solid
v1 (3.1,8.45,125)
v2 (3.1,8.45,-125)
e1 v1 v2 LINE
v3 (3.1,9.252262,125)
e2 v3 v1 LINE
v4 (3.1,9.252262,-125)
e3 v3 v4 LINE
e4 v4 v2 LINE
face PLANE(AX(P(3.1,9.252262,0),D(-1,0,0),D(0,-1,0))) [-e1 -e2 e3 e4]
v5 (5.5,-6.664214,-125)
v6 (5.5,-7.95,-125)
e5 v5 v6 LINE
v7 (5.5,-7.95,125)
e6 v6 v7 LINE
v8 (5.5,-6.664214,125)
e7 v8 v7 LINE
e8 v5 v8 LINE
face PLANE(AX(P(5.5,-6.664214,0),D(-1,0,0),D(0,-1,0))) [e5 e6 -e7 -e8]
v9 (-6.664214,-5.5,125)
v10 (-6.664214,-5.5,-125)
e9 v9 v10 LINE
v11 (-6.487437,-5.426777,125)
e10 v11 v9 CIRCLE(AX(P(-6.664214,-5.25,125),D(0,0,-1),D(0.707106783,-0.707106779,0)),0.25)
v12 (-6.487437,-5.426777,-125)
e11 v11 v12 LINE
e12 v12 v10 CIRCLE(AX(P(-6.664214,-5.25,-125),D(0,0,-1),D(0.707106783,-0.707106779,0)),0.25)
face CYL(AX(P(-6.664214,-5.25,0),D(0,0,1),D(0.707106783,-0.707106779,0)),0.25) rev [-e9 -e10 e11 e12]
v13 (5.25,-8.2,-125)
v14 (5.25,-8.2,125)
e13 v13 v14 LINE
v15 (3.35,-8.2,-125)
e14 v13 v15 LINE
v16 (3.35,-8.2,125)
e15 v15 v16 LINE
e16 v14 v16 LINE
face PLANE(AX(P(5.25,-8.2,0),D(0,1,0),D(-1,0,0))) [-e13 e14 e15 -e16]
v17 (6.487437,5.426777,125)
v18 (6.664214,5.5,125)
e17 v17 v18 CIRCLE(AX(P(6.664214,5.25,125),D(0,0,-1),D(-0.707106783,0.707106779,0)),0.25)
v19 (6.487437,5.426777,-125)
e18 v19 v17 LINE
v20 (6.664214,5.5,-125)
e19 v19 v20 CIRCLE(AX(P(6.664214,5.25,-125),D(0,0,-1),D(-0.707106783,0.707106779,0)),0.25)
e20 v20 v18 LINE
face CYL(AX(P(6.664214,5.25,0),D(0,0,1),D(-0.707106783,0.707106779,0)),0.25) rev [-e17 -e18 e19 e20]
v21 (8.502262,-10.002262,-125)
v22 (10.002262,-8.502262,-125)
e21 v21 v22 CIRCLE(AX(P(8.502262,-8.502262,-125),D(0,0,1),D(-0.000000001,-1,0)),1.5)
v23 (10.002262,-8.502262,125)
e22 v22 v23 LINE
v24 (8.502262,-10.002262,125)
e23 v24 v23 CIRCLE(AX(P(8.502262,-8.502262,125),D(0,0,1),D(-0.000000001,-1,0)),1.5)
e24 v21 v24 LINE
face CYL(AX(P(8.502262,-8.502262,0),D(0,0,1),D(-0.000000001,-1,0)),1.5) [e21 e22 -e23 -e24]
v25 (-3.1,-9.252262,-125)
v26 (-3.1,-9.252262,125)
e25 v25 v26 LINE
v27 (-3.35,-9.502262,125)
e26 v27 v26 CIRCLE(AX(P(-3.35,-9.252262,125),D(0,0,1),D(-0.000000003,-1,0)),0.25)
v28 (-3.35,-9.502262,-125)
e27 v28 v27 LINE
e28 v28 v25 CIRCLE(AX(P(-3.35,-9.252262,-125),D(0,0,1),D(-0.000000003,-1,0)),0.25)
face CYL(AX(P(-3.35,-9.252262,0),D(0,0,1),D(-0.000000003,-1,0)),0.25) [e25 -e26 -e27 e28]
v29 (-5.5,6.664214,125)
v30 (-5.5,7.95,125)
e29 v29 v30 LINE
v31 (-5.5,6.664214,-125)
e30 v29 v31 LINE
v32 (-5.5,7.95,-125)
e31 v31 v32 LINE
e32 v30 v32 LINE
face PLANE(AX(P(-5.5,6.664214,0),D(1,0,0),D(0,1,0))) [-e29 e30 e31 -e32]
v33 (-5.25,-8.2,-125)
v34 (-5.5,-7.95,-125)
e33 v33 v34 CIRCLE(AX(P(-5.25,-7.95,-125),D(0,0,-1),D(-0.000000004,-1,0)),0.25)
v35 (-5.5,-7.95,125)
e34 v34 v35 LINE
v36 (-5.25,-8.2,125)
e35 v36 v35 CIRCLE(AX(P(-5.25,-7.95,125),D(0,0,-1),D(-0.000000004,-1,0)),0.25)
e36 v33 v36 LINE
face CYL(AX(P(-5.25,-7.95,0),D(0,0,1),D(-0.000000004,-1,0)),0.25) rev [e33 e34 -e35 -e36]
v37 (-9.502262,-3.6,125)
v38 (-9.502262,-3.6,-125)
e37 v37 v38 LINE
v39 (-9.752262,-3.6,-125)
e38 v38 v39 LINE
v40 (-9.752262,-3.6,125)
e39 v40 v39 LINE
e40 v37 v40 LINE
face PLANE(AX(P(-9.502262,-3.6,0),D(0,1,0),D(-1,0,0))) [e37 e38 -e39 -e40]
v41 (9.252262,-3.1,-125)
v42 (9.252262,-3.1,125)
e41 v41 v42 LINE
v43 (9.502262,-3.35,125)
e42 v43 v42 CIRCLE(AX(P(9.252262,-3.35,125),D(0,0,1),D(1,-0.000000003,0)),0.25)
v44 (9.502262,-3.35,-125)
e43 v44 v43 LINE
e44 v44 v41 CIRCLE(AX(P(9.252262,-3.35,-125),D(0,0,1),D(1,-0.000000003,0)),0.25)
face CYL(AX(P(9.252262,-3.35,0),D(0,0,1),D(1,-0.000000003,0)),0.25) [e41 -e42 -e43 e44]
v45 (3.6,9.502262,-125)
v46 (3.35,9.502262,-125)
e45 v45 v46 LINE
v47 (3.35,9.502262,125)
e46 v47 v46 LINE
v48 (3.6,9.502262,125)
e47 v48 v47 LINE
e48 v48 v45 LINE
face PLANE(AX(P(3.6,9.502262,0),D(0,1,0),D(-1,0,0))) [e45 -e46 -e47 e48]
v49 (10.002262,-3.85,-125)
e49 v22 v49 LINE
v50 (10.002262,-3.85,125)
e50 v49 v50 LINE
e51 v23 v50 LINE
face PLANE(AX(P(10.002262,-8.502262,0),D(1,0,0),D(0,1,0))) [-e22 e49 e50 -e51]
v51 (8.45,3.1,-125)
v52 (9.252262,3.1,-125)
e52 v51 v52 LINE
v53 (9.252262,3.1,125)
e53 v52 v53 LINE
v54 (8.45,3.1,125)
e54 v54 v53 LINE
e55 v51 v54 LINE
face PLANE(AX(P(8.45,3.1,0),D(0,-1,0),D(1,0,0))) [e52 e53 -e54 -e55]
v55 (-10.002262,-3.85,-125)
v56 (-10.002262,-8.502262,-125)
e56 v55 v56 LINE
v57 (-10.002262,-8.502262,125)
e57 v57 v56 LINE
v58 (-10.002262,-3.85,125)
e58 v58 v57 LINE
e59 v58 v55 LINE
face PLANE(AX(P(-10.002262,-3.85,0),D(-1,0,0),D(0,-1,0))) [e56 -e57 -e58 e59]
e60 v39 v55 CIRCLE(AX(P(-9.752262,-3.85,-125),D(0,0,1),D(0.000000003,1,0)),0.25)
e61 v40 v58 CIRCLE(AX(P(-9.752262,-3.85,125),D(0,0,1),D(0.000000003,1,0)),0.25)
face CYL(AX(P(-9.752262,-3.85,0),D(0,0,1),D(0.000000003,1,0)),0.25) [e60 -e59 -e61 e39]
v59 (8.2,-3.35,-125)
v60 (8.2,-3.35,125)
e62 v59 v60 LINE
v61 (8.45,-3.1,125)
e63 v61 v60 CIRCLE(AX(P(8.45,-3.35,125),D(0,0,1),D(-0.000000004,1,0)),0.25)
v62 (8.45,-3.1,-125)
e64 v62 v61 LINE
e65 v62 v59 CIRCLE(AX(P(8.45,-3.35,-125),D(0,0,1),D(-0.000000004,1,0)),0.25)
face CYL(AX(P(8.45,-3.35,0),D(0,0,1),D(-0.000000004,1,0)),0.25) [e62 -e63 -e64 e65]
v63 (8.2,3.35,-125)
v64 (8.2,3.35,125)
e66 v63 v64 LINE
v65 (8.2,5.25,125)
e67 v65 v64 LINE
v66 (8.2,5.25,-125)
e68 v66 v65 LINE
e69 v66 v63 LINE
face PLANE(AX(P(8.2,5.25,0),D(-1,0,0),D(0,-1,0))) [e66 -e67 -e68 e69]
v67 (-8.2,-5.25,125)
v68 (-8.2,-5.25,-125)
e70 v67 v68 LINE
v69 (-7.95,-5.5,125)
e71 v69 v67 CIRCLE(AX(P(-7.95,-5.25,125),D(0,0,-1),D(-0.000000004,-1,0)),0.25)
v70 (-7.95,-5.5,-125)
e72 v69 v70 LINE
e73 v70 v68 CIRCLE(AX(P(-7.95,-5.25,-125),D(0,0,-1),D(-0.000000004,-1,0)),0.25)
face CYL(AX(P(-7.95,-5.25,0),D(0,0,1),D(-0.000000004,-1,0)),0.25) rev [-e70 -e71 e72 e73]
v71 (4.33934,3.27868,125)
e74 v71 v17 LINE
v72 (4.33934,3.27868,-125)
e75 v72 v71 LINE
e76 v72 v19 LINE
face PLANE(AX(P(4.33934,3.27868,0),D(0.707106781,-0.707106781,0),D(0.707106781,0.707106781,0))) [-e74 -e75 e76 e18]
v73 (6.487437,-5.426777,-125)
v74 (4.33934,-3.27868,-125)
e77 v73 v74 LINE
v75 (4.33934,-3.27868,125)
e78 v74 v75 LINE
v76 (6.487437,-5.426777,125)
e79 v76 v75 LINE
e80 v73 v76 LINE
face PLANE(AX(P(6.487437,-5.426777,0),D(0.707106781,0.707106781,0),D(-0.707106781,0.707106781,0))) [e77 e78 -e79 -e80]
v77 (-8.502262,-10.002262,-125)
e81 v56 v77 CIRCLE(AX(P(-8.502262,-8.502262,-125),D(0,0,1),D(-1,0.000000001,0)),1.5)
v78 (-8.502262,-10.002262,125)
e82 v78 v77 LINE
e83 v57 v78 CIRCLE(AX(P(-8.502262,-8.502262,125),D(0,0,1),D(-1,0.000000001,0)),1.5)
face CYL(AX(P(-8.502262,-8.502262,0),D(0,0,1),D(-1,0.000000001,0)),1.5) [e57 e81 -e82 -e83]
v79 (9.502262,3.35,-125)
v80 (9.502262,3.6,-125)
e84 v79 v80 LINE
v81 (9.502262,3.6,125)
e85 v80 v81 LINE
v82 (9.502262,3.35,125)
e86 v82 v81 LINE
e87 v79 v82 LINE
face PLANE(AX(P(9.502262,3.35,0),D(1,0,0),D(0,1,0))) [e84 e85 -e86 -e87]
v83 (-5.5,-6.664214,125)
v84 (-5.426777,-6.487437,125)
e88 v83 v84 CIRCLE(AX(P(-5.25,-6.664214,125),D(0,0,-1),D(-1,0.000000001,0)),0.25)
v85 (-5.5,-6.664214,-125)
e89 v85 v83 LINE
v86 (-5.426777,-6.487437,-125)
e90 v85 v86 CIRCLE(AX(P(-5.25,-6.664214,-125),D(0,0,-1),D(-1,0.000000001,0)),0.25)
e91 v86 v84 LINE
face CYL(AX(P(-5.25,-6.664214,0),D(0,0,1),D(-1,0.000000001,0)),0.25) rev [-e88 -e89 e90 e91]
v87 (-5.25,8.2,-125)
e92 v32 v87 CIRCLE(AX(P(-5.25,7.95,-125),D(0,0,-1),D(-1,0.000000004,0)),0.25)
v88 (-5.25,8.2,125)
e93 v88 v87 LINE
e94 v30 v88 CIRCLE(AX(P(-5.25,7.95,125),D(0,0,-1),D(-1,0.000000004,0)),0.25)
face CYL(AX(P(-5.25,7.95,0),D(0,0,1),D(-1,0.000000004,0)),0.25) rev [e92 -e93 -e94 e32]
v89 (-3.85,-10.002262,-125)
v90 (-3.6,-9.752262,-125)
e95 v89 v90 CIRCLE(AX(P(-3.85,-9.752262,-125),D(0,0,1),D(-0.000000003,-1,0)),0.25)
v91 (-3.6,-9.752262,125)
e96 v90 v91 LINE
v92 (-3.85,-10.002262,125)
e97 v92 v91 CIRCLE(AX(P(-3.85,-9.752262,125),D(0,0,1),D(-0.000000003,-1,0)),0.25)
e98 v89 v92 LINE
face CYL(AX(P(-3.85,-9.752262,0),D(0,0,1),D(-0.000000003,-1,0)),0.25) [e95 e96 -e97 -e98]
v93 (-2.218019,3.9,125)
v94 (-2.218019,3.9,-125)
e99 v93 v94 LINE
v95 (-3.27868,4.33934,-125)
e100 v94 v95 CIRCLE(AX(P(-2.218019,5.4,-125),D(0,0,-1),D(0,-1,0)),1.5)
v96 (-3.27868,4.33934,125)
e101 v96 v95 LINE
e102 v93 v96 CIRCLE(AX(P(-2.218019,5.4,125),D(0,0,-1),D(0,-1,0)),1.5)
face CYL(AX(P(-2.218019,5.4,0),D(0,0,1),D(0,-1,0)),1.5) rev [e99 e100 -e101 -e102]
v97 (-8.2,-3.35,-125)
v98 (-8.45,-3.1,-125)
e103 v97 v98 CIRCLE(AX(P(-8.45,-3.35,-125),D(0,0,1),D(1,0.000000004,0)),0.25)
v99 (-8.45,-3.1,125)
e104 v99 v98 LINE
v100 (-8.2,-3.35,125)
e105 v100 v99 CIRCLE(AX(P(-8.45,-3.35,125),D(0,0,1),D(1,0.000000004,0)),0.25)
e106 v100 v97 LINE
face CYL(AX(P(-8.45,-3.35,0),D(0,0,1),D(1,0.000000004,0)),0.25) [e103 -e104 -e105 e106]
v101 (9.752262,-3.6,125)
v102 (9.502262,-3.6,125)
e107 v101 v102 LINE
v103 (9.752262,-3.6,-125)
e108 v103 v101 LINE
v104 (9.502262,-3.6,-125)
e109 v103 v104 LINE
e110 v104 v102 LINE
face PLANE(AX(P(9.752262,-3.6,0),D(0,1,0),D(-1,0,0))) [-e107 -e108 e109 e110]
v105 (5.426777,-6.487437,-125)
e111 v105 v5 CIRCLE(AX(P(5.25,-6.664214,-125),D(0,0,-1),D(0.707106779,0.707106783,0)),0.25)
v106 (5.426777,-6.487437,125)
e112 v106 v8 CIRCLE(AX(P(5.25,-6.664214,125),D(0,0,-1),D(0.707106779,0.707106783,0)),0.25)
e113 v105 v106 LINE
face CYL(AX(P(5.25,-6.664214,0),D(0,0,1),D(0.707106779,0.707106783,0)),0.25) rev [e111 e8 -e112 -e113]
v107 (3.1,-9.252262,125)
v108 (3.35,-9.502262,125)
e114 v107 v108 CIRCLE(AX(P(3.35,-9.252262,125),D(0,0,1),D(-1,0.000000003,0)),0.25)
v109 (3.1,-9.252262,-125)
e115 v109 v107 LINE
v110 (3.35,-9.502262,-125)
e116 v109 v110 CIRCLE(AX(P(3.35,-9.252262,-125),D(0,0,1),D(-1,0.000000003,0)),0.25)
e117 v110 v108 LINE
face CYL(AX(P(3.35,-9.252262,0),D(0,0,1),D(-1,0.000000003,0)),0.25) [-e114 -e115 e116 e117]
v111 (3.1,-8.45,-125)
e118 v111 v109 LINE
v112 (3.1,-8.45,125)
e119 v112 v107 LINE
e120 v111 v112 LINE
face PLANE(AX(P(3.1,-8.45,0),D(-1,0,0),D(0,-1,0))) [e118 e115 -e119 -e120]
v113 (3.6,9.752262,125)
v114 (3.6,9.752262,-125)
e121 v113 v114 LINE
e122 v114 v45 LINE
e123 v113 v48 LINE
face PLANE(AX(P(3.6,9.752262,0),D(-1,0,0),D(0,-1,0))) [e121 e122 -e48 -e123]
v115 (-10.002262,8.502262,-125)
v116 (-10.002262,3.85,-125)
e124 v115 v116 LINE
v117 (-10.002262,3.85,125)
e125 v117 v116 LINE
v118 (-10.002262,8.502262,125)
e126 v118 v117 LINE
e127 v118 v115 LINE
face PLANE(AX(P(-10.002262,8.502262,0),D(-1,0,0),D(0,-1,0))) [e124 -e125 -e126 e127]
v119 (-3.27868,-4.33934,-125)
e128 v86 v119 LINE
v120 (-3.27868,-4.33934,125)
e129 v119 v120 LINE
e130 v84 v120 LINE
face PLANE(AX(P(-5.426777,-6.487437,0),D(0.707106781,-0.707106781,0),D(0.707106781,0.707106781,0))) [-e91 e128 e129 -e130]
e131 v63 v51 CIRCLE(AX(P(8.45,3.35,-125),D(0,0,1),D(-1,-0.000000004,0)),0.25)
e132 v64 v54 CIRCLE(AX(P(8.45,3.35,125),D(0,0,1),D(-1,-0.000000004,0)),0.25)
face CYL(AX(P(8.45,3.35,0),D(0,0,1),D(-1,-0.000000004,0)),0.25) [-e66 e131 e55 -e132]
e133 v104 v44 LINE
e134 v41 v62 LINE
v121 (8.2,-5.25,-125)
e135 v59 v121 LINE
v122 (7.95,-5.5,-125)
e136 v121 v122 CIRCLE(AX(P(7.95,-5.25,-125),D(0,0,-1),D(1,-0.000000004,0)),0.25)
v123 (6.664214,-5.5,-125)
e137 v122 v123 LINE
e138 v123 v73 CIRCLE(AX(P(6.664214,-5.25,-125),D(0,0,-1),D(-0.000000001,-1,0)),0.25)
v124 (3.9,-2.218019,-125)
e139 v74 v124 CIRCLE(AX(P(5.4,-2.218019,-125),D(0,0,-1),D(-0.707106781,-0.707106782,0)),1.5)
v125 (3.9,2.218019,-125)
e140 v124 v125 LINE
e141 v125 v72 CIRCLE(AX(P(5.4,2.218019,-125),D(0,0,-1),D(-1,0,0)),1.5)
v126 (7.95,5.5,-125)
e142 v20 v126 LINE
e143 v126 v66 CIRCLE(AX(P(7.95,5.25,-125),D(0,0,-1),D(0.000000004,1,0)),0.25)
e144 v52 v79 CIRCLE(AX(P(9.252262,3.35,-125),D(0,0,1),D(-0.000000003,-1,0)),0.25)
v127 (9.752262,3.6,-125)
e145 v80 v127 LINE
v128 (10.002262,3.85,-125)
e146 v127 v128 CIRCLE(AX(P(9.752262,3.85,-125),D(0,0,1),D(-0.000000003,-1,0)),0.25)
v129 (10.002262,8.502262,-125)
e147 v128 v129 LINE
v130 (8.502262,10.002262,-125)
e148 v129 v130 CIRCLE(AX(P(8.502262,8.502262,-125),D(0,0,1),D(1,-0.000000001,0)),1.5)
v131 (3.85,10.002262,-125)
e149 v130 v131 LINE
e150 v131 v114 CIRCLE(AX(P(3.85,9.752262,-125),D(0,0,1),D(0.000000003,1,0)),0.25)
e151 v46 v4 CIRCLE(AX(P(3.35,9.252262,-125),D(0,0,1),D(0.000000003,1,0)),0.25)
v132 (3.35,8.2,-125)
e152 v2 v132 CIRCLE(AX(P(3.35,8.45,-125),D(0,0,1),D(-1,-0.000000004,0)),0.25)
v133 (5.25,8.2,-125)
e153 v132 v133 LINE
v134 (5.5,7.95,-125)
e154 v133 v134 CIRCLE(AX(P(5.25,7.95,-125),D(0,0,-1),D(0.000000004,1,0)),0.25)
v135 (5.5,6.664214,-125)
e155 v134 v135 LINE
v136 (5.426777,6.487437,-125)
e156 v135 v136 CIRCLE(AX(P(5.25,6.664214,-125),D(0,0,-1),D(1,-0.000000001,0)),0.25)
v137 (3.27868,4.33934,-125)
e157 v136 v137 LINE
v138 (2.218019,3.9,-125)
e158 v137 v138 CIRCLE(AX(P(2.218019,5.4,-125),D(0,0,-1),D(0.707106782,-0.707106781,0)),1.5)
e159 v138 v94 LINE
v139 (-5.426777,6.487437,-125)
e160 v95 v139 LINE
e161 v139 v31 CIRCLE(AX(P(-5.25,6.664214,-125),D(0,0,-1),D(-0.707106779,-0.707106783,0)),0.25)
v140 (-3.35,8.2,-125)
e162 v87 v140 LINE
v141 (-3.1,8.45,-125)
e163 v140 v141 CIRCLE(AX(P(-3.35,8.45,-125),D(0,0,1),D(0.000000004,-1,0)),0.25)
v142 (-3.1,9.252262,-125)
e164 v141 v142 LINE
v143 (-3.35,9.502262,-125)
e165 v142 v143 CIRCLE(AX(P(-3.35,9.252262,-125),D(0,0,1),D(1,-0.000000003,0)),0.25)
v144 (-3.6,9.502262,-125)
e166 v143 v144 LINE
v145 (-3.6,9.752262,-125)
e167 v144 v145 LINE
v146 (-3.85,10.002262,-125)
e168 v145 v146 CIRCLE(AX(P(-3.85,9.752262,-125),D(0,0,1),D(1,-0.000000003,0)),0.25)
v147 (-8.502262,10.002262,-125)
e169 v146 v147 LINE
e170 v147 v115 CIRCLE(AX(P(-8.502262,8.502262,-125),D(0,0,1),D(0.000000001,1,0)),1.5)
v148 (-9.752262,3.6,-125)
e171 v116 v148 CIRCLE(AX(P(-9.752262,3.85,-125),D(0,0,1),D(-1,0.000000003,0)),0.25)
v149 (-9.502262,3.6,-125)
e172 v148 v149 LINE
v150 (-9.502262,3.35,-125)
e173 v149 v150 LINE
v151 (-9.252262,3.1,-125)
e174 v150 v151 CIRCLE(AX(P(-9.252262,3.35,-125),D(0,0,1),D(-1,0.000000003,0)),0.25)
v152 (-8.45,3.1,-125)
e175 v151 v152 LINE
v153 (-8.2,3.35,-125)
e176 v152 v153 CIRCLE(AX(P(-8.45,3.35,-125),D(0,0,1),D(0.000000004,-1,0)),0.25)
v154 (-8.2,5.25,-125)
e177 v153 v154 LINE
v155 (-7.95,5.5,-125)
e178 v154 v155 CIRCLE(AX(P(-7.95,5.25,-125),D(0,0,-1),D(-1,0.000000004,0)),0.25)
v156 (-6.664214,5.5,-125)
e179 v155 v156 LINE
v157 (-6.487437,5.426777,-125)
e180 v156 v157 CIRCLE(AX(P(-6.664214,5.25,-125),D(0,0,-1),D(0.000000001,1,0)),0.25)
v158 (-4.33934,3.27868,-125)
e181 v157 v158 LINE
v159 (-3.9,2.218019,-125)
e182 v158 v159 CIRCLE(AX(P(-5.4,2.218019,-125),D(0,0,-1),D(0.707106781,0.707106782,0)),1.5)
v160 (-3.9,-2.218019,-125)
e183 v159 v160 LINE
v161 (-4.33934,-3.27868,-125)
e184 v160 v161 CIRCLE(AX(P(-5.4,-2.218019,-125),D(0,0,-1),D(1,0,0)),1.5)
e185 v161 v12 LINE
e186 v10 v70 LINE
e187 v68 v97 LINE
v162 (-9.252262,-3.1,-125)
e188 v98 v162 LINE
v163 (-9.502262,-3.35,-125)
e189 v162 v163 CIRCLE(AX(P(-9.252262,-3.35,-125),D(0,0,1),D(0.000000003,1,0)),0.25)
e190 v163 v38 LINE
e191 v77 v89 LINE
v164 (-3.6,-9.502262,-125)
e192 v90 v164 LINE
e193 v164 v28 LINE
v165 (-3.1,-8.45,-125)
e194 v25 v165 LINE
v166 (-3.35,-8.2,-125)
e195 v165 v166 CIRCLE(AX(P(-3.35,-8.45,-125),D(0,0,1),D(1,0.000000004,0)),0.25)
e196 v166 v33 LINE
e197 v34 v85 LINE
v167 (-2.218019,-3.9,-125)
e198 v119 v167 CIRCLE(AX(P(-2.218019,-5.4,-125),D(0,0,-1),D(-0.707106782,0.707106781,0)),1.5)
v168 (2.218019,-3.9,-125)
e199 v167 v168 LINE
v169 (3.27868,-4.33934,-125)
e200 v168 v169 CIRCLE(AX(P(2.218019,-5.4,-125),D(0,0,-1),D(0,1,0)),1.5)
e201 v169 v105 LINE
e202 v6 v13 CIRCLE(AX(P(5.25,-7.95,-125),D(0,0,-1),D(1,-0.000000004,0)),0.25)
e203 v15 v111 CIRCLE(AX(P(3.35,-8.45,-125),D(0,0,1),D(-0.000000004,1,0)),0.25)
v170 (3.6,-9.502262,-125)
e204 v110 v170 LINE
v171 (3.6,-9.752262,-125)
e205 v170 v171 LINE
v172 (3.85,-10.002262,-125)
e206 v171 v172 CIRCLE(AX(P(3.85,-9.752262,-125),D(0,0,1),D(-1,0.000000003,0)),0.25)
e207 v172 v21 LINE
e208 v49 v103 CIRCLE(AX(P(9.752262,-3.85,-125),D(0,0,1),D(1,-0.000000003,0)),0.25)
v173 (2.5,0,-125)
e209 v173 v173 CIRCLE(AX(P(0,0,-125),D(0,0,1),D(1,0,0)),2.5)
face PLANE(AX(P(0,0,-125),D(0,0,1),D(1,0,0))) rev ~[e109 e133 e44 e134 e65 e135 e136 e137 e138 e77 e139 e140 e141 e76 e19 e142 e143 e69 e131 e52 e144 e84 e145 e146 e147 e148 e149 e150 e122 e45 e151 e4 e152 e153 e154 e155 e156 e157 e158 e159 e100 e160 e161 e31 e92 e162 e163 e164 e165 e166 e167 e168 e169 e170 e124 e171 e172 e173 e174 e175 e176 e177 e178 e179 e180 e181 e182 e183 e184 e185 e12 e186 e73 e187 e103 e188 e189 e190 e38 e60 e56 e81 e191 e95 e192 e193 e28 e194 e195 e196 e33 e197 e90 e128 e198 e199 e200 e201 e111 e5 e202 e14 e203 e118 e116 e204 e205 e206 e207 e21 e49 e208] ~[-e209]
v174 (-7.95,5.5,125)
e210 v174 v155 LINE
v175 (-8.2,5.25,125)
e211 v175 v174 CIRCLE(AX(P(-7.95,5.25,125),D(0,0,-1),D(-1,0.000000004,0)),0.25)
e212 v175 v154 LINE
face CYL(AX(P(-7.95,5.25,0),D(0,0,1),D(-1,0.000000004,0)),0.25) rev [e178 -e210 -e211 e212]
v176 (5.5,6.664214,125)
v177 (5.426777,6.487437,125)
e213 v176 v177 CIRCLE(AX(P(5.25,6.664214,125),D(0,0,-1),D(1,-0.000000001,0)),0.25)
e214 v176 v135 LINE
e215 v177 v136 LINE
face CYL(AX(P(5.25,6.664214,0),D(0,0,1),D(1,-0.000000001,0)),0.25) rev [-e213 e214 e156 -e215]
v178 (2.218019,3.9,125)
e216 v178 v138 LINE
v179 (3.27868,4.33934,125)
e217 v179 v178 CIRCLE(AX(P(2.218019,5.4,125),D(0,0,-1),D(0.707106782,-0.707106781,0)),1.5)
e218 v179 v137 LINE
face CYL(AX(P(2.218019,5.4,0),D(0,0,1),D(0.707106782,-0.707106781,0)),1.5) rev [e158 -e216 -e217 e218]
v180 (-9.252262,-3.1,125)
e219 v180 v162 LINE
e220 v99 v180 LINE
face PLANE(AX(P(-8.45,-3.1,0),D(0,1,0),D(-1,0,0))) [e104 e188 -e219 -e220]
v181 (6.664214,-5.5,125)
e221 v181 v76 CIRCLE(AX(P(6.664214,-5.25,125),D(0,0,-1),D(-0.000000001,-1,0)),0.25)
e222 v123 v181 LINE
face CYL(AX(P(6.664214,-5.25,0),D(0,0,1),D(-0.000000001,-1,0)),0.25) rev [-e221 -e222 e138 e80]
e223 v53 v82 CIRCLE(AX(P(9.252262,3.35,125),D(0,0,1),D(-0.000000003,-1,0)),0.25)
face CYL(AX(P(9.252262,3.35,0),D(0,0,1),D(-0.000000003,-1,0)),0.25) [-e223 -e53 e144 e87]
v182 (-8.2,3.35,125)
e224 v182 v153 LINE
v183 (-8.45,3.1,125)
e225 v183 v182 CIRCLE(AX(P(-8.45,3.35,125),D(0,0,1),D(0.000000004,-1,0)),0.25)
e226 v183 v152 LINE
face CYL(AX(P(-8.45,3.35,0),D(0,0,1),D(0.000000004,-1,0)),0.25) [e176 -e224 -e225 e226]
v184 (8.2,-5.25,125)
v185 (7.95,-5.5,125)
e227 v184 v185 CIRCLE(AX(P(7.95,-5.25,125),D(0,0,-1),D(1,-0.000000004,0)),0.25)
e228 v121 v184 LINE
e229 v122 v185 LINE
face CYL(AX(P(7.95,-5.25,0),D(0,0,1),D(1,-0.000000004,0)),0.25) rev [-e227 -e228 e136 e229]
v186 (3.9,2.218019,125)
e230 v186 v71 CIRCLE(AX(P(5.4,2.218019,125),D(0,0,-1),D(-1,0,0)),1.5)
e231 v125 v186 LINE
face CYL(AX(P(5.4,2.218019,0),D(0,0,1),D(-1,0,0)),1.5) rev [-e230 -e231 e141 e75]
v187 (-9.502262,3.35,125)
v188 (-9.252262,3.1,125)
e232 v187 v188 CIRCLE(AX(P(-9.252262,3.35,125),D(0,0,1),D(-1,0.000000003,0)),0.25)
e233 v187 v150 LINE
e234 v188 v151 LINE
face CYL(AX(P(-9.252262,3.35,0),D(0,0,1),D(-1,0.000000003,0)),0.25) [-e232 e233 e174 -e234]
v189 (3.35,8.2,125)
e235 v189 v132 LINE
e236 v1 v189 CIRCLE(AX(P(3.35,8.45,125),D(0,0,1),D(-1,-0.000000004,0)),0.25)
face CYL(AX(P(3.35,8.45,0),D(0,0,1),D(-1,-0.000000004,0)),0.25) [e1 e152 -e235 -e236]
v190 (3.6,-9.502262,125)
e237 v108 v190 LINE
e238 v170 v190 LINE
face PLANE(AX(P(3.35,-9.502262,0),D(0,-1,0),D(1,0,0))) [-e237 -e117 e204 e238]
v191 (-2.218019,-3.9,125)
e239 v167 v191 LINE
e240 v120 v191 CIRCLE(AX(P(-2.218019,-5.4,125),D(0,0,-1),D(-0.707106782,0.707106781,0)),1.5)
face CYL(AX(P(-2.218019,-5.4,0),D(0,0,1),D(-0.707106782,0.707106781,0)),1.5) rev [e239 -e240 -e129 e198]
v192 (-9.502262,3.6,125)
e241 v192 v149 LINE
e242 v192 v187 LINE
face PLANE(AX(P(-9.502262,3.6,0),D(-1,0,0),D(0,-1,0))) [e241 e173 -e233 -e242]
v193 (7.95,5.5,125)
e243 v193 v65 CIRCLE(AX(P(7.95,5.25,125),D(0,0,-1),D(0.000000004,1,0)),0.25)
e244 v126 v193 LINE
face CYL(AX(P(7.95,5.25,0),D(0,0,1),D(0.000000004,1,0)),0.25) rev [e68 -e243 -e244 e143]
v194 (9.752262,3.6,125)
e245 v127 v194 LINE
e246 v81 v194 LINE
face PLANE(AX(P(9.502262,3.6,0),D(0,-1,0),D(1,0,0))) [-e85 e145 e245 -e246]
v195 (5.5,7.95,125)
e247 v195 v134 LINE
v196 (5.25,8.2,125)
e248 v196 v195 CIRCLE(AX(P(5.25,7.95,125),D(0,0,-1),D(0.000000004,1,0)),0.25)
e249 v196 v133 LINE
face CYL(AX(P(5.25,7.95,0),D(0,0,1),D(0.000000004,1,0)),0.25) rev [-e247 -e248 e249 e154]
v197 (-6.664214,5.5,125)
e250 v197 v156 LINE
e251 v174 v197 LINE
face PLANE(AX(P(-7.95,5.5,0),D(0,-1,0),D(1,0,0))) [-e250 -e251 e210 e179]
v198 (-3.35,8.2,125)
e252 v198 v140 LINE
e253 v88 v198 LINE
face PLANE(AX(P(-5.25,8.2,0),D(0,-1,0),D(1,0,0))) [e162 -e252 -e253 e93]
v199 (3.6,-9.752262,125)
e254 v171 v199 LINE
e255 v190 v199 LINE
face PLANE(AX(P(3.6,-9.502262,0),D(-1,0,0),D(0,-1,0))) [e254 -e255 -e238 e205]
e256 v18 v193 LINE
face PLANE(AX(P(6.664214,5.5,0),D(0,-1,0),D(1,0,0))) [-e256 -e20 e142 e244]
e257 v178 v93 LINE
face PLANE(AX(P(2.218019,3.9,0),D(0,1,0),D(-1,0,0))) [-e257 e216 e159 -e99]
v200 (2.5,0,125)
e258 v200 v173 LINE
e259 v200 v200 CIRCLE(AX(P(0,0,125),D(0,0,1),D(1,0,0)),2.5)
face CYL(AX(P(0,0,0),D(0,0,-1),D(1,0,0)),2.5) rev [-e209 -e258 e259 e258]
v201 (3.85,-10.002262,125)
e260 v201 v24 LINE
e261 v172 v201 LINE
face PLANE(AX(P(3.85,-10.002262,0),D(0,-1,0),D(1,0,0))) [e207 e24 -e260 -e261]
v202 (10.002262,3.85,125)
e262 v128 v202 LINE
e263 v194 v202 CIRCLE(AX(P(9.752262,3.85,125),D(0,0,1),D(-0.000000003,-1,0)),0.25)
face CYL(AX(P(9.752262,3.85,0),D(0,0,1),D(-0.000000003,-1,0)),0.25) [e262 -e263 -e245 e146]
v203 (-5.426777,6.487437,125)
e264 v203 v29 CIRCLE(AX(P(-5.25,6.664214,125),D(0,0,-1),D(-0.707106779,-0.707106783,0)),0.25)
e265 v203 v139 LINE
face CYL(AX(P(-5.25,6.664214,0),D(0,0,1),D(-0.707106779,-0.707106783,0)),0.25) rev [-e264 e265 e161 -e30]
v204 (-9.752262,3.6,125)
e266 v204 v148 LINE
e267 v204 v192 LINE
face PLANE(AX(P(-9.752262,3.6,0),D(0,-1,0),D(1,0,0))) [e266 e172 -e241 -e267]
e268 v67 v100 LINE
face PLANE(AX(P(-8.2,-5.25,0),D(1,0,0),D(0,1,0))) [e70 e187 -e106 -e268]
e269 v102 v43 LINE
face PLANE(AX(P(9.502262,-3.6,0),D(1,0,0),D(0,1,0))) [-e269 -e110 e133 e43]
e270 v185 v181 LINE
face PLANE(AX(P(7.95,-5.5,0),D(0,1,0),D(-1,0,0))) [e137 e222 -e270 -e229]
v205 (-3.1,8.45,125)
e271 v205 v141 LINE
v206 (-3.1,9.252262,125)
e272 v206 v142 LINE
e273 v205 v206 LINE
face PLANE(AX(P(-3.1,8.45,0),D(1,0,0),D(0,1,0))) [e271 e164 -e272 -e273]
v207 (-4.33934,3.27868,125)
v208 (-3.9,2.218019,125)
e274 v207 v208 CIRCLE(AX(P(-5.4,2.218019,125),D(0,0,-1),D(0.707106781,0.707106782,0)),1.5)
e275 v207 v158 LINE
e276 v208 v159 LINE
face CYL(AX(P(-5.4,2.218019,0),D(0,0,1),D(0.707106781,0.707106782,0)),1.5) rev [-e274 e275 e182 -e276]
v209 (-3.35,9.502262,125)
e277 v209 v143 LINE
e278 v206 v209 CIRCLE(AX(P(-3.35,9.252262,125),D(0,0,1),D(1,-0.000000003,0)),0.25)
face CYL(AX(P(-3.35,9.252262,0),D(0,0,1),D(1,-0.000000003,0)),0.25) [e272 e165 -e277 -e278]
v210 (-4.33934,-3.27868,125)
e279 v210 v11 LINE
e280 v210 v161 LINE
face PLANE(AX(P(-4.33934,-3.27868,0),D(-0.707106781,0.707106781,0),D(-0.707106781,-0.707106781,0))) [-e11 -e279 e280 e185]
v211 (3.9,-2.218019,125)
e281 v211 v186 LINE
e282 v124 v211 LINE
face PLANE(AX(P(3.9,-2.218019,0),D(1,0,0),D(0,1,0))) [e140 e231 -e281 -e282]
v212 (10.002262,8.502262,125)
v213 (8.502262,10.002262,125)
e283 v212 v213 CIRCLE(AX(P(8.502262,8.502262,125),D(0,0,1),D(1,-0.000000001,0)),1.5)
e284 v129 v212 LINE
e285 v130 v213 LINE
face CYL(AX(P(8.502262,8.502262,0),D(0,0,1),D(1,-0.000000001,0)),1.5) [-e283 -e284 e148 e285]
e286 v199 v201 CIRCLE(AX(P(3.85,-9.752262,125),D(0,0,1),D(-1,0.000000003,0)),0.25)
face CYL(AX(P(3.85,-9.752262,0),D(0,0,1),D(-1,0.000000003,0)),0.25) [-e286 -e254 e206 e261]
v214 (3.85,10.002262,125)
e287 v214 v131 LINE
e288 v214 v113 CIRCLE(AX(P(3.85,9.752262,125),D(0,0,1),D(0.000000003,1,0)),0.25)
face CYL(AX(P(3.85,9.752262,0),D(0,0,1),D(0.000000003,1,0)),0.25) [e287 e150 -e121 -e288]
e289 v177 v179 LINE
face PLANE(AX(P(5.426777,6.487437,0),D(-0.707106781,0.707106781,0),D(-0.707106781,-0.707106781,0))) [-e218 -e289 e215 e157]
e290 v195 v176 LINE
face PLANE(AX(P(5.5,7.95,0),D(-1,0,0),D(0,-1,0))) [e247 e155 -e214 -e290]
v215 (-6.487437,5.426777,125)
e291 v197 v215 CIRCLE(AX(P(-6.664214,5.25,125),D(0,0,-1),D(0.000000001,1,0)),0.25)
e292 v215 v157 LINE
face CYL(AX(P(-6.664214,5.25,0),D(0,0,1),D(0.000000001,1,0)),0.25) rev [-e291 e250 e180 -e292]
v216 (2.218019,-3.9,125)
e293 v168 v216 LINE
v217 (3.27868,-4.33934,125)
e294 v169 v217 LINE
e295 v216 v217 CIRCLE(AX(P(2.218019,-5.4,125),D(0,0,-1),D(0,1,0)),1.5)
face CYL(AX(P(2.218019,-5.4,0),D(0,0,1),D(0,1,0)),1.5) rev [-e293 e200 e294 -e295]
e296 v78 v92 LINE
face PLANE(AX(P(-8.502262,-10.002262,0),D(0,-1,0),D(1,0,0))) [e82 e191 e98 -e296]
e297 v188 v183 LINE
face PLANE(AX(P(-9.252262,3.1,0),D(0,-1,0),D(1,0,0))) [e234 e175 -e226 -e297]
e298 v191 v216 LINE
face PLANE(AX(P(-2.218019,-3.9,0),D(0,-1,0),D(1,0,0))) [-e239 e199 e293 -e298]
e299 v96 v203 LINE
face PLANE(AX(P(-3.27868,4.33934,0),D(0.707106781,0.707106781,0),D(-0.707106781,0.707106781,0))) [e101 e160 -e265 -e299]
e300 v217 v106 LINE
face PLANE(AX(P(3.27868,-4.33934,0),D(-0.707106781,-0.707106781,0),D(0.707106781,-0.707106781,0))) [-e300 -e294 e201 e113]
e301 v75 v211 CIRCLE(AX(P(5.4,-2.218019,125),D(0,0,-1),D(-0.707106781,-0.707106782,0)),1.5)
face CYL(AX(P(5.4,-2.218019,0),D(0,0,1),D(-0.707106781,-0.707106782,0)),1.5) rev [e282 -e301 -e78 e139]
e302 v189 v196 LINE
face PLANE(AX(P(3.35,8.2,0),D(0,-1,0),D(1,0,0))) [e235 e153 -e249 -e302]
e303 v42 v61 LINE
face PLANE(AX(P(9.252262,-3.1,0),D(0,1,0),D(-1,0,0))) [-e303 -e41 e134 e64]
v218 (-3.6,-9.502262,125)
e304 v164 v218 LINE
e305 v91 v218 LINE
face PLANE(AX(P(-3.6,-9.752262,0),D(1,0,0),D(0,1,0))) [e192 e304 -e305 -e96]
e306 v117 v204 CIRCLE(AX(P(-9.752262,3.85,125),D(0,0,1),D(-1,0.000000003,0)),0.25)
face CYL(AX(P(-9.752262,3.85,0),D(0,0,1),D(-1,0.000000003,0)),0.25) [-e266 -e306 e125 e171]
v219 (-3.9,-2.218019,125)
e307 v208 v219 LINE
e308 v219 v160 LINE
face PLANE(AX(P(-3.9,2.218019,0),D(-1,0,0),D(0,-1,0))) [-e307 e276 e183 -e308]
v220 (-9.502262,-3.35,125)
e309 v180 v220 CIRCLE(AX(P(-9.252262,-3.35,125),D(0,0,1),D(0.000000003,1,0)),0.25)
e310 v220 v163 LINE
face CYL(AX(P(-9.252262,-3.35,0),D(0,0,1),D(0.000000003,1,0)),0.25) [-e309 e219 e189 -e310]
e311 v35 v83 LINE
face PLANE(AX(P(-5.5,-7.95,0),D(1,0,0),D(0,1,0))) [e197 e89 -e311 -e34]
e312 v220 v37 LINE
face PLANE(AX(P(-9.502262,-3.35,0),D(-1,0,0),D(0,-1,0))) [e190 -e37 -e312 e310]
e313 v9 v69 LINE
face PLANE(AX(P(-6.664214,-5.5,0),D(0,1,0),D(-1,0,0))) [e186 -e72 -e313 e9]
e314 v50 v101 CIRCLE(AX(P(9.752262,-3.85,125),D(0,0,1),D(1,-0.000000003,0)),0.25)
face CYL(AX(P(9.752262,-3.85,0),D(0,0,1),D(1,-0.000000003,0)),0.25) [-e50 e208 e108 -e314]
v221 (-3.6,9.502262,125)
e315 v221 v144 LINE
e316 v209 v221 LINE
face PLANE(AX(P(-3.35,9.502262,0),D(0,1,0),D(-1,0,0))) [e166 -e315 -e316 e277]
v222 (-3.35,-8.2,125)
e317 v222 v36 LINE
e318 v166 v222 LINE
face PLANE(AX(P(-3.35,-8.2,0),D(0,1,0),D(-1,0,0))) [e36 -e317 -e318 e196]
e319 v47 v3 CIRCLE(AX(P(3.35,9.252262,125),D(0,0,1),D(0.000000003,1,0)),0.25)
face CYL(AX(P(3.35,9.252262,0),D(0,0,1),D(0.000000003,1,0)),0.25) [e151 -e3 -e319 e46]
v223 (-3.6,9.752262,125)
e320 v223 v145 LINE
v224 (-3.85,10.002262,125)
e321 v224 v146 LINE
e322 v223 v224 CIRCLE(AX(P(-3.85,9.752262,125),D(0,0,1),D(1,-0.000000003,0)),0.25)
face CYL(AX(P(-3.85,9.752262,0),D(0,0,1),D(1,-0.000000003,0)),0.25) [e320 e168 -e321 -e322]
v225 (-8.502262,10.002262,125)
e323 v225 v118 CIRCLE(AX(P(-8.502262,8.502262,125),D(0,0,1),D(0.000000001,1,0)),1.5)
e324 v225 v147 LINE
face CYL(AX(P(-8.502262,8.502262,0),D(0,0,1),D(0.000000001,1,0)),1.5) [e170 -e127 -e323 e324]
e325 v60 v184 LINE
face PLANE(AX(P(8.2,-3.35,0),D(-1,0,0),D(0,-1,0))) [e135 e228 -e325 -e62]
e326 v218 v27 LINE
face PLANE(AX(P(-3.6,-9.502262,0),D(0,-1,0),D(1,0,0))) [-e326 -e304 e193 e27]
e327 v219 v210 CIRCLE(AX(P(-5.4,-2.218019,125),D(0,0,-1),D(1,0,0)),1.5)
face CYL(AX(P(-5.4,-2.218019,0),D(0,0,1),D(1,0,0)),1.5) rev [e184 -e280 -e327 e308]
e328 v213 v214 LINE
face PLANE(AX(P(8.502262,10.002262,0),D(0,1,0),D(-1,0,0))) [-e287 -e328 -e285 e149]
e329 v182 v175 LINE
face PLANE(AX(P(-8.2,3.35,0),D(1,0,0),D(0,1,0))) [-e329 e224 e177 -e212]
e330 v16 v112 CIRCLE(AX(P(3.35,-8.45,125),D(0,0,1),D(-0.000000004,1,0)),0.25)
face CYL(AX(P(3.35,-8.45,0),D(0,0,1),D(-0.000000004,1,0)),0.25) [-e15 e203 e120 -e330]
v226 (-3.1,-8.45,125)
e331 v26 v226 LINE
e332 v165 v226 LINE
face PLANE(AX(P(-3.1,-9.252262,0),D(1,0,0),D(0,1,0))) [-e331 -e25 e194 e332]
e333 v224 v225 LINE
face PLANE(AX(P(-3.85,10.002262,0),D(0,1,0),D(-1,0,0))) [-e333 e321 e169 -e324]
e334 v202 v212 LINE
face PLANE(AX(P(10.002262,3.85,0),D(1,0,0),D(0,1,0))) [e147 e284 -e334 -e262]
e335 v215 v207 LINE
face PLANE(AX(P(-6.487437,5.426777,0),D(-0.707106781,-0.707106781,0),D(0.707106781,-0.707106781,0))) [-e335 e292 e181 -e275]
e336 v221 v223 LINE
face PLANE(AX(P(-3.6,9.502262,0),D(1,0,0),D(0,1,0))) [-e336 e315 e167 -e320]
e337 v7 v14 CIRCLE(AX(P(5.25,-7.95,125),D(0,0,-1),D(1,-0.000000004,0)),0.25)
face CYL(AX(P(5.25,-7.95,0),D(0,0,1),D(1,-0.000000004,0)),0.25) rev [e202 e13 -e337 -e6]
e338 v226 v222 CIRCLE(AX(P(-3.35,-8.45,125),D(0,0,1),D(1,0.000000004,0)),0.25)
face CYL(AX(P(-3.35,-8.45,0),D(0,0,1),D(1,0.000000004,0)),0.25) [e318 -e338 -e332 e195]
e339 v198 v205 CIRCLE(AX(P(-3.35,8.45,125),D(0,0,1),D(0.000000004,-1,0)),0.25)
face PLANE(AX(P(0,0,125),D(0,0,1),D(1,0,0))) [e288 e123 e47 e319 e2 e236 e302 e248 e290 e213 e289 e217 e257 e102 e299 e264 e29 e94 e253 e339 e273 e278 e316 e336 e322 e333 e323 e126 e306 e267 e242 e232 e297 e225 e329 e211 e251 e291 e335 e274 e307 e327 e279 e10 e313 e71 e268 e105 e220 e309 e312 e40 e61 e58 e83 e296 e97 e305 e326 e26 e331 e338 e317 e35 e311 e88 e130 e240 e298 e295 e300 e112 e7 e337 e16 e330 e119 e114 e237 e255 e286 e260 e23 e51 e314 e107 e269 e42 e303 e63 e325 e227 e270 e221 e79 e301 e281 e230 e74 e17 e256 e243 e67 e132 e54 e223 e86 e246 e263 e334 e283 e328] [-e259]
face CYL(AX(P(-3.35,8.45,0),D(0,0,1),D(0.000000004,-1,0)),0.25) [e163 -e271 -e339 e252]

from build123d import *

# Parameters (mm, degrees)
SKETCH_1_R      = 2.5
EXTRUDE_1_DEPTH = 125


with BuildPart() as part:
    # 草图1 → 凸台-拉伸1 (new, symmetric)
    with BuildSketch(Plane.XY):
        with BuildLine():
            Line((-8.502261885, -10.002261885), (-3.85, -10.002261885))
            ThreePointArc((-3.85, -10.002261885), (-3.673223305, -9.929038581), (-3.6, -9.752261885))
            Line((-3.6, -9.752261885), (-3.6, -9.502261885))
            Line((-3.6, -9.502261885), (-3.35, -9.502261885))
            ThreePointArc((-3.35, -9.502261885), (-3.173223305, -9.429038581), (-3.1, -9.252261885))
            Line((-3.1, -9.252261885), (-3.1, -8.45))
            ThreePointArc((-3.1, -8.45), (-3.173223305, -8.273223305), (-3.35, -8.2))
            Line((-3.35, -8.2), (-5.25, -8.2))
            ThreePointArc((-5.25, -8.2), (-5.426776695, -8.126776695), (-5.5, -7.95))
            Line((-5.5, -7.95), (-5.5, -6.664213562))
            ThreePointArc((-5.5, -6.664213562), (-5.480969883, -6.568542704), (-5.426776695, -6.487436867))
            Line((-5.426776695, -6.487436867), (-3.278679656, -4.339339828))
            ThreePointArc((-3.278679656, -4.339339828), (-2.792044633, -4.014180701), (-2.218019485, -3.9))
            Line((-2.218019485, -3.9), (2.218019485, -3.9))
            ThreePointArc((2.218019485, -3.9), (2.792044633, -4.014180701), (3.278679656, -4.339339828))
            Line((3.278679656, -4.339339828), (5.426776695, -6.487436867))
            ThreePointArc((5.426776695, -6.487436867), (5.480969883, -6.568542704), (5.5, -6.664213562))
            Line((5.5, -6.664213562), (5.5, -7.95))
            ThreePointArc((5.5, -7.95), (5.426776695, -8.126776695), (5.25, -8.2))
            Line((5.25, -8.2), (3.35, -8.2))
            ThreePointArc((3.35, -8.2), (3.173223305, -8.273223305), (3.1, -8.45))
            Line((3.1, -8.45), (3.1, -9.252261885))
            ThreePointArc((3.1, -9.252261885), (3.173223305, -9.429038581), (3.35, -9.502261885))
            Line((3.35, -9.502261885), (3.6, -9.502261885))
            Line((3.6, -9.502261885), (3.6, -9.752261885))
            ThreePointArc((3.6, -9.752261885), (3.673223305, -9.929038581), (3.85, -10.002261885))
            Line((3.85, -10.002261885), (8.502261885, -10.002261885))
            ThreePointArc((8.502261885, -10.002261885), (9.562922057, -9.562922057), (10.002261885, -8.502261885))
            Line((10.002261885, -8.502261885), (10.002261885, -3.85))
            ThreePointArc((10.002261885, -3.85), (9.929038581, -3.673223305), (9.752261885, -3.6))
            Line((9.752261885, -3.6), (9.502261885, -3.6))
            Line((9.502261885, -3.6), (9.502261885, -3.35))
            ThreePointArc((9.502261885, -3.35), (9.429038581, -3.173223305), (9.252261885, -3.1))
            Line((9.252261885, -3.1), (8.45, -3.1))
            ThreePointArc((8.45, -3.1), (8.273223305, -3.173223305), (8.2, -3.35))
            Line((8.2, -3.35), (8.2, -5.25))
            ThreePointArc((8.2, -5.25), (8.126776695, -5.426776695), (7.95, -5.5))
            Line((7.95, -5.5), (6.664213562, -5.5))
            ThreePointArc((6.664213562, -5.5), (6.568542704, -5.480969883), (6.487436867, -5.426776695))
            Line((6.487436867, -5.426776695), (4.339339828, -3.278679656))
            ThreePointArc((4.339339828, -3.278679656), (4.014180701, -2.792044633), (3.9, -2.218019485))
            Line((3.9, -2.218019485), (3.9, 2.218019485))
            ThreePointArc((3.9, 2.218019485), (4.014180701, 2.792044633), (4.339339828, 3.278679656))
            Line((4.339339828, 3.278679656), (6.487436867, 5.426776695))
            ThreePointArc((6.487436867, 5.426776695), (6.568542704, 5.480969883), (6.664213562, 5.5))
            Line((6.664213562, 5.5), (7.95, 5.5))
            ThreePointArc((7.95, 5.5), (8.126776695, 5.426776695), (8.2, 5.25))
            Line((8.2, 5.25), (8.2, 3.35))
            ThreePointArc((8.2, 3.35), (8.273223305, 3.173223305), (8.45, 3.1))
            Line((8.45, 3.1), (9.252261885, 3.1))
            ThreePointArc((9.252261885, 3.1), (9.429038581, 3.173223305), (9.502261885, 3.35))
            Line((9.502261885, 3.35), (9.502261885, 3.6))
            Line((9.502261885, 3.6), (9.752261885, 3.6))
            ThreePointArc((9.752261885, 3.6), (9.929038581, 3.673223305), (10.002261885, 3.85))
            Line((10.002261885, 3.85), (10.002261885, 8.502261885))
            ThreePointArc((10.002261885, 8.502261885), (9.562922057, 9.562922057), (8.502261885, 10.002261885))
            Line((8.502261885, 10.002261885), (3.85, 10.002261885))
            ThreePointArc((3.85, 10.002261885), (3.673223305, 9.929038581), (3.6, 9.752261885))
            Line((3.6, 9.752261885), (3.6, 9.502261885))
            Line((3.6, 9.502261885), (3.35, 9.502261885))
            ThreePointArc((3.35, 9.502261885), (3.173223305, 9.429038581), (3.1, 9.252261885))
            Line((3.1, 9.252261885), (3.1, 8.45))
            ThreePointArc((3.1, 8.45), (3.173223305, 8.273223305), (3.35, 8.2))
            Line((3.35, 8.2), (5.25, 8.2))
            ThreePointArc((5.25, 8.2), (5.426776695, 8.126776695), (5.5, 7.95))
            Line((5.5, 7.95), (5.5, 6.664213562))
            ThreePointArc((5.5, 6.664213562), (5.480969883, 6.568542704), (5.426776695, 6.487436867))
            Line((5.426776695, 6.487436867), (3.278679656, 4.339339828))
            ThreePointArc((3.278679656, 4.339339828), (2.792044633, 4.014180701), (2.218019485, 3.9))
            Line((2.218019485, 3.9), (-2.218019485, 3.9))
            ThreePointArc((-2.218019485, 3.9), (-2.792044633, 4.014180701), (-3.278679656, 4.339339828))
            Line((-3.278679656, 4.339339828), (-5.426776695, 6.487436867))
            ThreePointArc((-5.426776695, 6.487436867), (-5.480969883, 6.568542704), (-5.5, 6.664213562))
            Line((-5.5, 6.664213562), (-5.5, 7.95))
            ThreePointArc((-5.5, 7.95), (-5.426776695, 8.126776695), (-5.25, 8.2))
            Line((-5.25, 8.2), (-3.35, 8.2))
            ThreePointArc((-3.35, 8.2), (-3.173223305, 8.273223305), (-3.1, 8.45))
            Line((-3.1, 8.45), (-3.1, 9.252261885))
            ThreePointArc((-3.1, 9.252261885), (-3.173223305, 9.429038581), (-3.35, 9.502261885))
            Line((-3.35, 9.502261885), (-3.6, 9.502261885))
            Line((-3.6, 9.502261885), (-3.6, 9.752261885))
            ThreePointArc((-3.6, 9.752261885), (-3.673223305, 9.929038581), (-3.85, 10.002261885))
            Line((-3.85, 10.002261885), (-8.502261885, 10.002261885))
            ThreePointArc((-8.502261885, 10.002261885), (-9.562922057, 9.562922057), (-10.002261885, 8.502261885))
            Line((-10.002261885, 8.502261885), (-10.002261885, 3.85))
            ThreePointArc((-10.002261885, 3.85), (-9.929038581, 3.673223305), (-9.752261885, 3.6))
            Line((-9.752261885, 3.6), (-9.502261885, 3.6))
            Line((-9.502261885, 3.6), (-9.502261885, 3.35))
            ThreePointArc((-9.502261885, 3.35), (-9.429038581, 3.173223305), (-9.252261885, 3.1))
            Line((-9.252261885, 3.1), (-8.45, 3.1))
            ThreePointArc((-8.45, 3.1), (-8.273223305, 3.173223305), (-8.2, 3.35))
            Line((-8.2, 3.35), (-8.2, 5.25))
            ThreePointArc((-8.2, 5.25), (-8.126776695, 5.426776695), (-7.95, 5.5))
            Line((-7.95, 5.5), (-6.664213562, 5.5))
            ThreePointArc((-6.664213562, 5.5), (-6.568542704, 5.480969883), (-6.487436867, 5.426776695))
            Line((-6.487436867, 5.426776695), (-4.339339828, 3.278679656))
            ThreePointArc((-4.339339828, 3.278679656), (-4.014180701, 2.792044633), (-3.9, 2.218019485))
            Line((-3.9, 2.218019485), (-3.9, -2.218019485))
            ThreePointArc((-3.9, -2.218019485), (-4.014180701, -2.792044633), (-4.339339828, -3.278679656))
            Line((-4.339339828, -3.278679656), (-6.487436867, -5.426776695))
            ThreePointArc((-6.487436867, -5.426776695), (-6.568542704, -5.480969883), (-6.664213562, -5.5))
            Line((-6.664213562, -5.5), (-7.95, -5.5))
            ThreePointArc((-7.95, -5.5), (-8.126776695, -5.426776695), (-8.2, -5.25))
            Line((-8.2, -5.25), (-8.2, -3.35))
            ThreePointArc((-8.2, -3.35), (-8.273223305, -3.173223305), (-8.45, -3.1))
            Line((-8.45, -3.1), (-9.252261885, -3.1))
            ThreePointArc((-9.252261885, -3.1), (-9.429038581, -3.173223305), (-9.502261885, -3.35))
            Line((-9.502261885, -3.35), (-9.502261885, -3.6))
            Line((-9.502261885, -3.6), (-9.752261885, -3.6))
            ThreePointArc((-9.752261885, -3.6), (-9.929038581, -3.673223305), (-10.002261885, -3.85))
            Line((-10.002261885, -3.85), (-10.002261885, -8.502261885))
            ThreePointArc((-10.002261885, -8.502261885), (-9.562922057, -9.562922057), (-8.502261885, -10.002261885))
        make_face()
        Circle(SKETCH_1_R, mode=Mode.SUBTRACT)
    extrude(amount=EXTRUDE_1_DEPTH, both=True)


solid = part.part
